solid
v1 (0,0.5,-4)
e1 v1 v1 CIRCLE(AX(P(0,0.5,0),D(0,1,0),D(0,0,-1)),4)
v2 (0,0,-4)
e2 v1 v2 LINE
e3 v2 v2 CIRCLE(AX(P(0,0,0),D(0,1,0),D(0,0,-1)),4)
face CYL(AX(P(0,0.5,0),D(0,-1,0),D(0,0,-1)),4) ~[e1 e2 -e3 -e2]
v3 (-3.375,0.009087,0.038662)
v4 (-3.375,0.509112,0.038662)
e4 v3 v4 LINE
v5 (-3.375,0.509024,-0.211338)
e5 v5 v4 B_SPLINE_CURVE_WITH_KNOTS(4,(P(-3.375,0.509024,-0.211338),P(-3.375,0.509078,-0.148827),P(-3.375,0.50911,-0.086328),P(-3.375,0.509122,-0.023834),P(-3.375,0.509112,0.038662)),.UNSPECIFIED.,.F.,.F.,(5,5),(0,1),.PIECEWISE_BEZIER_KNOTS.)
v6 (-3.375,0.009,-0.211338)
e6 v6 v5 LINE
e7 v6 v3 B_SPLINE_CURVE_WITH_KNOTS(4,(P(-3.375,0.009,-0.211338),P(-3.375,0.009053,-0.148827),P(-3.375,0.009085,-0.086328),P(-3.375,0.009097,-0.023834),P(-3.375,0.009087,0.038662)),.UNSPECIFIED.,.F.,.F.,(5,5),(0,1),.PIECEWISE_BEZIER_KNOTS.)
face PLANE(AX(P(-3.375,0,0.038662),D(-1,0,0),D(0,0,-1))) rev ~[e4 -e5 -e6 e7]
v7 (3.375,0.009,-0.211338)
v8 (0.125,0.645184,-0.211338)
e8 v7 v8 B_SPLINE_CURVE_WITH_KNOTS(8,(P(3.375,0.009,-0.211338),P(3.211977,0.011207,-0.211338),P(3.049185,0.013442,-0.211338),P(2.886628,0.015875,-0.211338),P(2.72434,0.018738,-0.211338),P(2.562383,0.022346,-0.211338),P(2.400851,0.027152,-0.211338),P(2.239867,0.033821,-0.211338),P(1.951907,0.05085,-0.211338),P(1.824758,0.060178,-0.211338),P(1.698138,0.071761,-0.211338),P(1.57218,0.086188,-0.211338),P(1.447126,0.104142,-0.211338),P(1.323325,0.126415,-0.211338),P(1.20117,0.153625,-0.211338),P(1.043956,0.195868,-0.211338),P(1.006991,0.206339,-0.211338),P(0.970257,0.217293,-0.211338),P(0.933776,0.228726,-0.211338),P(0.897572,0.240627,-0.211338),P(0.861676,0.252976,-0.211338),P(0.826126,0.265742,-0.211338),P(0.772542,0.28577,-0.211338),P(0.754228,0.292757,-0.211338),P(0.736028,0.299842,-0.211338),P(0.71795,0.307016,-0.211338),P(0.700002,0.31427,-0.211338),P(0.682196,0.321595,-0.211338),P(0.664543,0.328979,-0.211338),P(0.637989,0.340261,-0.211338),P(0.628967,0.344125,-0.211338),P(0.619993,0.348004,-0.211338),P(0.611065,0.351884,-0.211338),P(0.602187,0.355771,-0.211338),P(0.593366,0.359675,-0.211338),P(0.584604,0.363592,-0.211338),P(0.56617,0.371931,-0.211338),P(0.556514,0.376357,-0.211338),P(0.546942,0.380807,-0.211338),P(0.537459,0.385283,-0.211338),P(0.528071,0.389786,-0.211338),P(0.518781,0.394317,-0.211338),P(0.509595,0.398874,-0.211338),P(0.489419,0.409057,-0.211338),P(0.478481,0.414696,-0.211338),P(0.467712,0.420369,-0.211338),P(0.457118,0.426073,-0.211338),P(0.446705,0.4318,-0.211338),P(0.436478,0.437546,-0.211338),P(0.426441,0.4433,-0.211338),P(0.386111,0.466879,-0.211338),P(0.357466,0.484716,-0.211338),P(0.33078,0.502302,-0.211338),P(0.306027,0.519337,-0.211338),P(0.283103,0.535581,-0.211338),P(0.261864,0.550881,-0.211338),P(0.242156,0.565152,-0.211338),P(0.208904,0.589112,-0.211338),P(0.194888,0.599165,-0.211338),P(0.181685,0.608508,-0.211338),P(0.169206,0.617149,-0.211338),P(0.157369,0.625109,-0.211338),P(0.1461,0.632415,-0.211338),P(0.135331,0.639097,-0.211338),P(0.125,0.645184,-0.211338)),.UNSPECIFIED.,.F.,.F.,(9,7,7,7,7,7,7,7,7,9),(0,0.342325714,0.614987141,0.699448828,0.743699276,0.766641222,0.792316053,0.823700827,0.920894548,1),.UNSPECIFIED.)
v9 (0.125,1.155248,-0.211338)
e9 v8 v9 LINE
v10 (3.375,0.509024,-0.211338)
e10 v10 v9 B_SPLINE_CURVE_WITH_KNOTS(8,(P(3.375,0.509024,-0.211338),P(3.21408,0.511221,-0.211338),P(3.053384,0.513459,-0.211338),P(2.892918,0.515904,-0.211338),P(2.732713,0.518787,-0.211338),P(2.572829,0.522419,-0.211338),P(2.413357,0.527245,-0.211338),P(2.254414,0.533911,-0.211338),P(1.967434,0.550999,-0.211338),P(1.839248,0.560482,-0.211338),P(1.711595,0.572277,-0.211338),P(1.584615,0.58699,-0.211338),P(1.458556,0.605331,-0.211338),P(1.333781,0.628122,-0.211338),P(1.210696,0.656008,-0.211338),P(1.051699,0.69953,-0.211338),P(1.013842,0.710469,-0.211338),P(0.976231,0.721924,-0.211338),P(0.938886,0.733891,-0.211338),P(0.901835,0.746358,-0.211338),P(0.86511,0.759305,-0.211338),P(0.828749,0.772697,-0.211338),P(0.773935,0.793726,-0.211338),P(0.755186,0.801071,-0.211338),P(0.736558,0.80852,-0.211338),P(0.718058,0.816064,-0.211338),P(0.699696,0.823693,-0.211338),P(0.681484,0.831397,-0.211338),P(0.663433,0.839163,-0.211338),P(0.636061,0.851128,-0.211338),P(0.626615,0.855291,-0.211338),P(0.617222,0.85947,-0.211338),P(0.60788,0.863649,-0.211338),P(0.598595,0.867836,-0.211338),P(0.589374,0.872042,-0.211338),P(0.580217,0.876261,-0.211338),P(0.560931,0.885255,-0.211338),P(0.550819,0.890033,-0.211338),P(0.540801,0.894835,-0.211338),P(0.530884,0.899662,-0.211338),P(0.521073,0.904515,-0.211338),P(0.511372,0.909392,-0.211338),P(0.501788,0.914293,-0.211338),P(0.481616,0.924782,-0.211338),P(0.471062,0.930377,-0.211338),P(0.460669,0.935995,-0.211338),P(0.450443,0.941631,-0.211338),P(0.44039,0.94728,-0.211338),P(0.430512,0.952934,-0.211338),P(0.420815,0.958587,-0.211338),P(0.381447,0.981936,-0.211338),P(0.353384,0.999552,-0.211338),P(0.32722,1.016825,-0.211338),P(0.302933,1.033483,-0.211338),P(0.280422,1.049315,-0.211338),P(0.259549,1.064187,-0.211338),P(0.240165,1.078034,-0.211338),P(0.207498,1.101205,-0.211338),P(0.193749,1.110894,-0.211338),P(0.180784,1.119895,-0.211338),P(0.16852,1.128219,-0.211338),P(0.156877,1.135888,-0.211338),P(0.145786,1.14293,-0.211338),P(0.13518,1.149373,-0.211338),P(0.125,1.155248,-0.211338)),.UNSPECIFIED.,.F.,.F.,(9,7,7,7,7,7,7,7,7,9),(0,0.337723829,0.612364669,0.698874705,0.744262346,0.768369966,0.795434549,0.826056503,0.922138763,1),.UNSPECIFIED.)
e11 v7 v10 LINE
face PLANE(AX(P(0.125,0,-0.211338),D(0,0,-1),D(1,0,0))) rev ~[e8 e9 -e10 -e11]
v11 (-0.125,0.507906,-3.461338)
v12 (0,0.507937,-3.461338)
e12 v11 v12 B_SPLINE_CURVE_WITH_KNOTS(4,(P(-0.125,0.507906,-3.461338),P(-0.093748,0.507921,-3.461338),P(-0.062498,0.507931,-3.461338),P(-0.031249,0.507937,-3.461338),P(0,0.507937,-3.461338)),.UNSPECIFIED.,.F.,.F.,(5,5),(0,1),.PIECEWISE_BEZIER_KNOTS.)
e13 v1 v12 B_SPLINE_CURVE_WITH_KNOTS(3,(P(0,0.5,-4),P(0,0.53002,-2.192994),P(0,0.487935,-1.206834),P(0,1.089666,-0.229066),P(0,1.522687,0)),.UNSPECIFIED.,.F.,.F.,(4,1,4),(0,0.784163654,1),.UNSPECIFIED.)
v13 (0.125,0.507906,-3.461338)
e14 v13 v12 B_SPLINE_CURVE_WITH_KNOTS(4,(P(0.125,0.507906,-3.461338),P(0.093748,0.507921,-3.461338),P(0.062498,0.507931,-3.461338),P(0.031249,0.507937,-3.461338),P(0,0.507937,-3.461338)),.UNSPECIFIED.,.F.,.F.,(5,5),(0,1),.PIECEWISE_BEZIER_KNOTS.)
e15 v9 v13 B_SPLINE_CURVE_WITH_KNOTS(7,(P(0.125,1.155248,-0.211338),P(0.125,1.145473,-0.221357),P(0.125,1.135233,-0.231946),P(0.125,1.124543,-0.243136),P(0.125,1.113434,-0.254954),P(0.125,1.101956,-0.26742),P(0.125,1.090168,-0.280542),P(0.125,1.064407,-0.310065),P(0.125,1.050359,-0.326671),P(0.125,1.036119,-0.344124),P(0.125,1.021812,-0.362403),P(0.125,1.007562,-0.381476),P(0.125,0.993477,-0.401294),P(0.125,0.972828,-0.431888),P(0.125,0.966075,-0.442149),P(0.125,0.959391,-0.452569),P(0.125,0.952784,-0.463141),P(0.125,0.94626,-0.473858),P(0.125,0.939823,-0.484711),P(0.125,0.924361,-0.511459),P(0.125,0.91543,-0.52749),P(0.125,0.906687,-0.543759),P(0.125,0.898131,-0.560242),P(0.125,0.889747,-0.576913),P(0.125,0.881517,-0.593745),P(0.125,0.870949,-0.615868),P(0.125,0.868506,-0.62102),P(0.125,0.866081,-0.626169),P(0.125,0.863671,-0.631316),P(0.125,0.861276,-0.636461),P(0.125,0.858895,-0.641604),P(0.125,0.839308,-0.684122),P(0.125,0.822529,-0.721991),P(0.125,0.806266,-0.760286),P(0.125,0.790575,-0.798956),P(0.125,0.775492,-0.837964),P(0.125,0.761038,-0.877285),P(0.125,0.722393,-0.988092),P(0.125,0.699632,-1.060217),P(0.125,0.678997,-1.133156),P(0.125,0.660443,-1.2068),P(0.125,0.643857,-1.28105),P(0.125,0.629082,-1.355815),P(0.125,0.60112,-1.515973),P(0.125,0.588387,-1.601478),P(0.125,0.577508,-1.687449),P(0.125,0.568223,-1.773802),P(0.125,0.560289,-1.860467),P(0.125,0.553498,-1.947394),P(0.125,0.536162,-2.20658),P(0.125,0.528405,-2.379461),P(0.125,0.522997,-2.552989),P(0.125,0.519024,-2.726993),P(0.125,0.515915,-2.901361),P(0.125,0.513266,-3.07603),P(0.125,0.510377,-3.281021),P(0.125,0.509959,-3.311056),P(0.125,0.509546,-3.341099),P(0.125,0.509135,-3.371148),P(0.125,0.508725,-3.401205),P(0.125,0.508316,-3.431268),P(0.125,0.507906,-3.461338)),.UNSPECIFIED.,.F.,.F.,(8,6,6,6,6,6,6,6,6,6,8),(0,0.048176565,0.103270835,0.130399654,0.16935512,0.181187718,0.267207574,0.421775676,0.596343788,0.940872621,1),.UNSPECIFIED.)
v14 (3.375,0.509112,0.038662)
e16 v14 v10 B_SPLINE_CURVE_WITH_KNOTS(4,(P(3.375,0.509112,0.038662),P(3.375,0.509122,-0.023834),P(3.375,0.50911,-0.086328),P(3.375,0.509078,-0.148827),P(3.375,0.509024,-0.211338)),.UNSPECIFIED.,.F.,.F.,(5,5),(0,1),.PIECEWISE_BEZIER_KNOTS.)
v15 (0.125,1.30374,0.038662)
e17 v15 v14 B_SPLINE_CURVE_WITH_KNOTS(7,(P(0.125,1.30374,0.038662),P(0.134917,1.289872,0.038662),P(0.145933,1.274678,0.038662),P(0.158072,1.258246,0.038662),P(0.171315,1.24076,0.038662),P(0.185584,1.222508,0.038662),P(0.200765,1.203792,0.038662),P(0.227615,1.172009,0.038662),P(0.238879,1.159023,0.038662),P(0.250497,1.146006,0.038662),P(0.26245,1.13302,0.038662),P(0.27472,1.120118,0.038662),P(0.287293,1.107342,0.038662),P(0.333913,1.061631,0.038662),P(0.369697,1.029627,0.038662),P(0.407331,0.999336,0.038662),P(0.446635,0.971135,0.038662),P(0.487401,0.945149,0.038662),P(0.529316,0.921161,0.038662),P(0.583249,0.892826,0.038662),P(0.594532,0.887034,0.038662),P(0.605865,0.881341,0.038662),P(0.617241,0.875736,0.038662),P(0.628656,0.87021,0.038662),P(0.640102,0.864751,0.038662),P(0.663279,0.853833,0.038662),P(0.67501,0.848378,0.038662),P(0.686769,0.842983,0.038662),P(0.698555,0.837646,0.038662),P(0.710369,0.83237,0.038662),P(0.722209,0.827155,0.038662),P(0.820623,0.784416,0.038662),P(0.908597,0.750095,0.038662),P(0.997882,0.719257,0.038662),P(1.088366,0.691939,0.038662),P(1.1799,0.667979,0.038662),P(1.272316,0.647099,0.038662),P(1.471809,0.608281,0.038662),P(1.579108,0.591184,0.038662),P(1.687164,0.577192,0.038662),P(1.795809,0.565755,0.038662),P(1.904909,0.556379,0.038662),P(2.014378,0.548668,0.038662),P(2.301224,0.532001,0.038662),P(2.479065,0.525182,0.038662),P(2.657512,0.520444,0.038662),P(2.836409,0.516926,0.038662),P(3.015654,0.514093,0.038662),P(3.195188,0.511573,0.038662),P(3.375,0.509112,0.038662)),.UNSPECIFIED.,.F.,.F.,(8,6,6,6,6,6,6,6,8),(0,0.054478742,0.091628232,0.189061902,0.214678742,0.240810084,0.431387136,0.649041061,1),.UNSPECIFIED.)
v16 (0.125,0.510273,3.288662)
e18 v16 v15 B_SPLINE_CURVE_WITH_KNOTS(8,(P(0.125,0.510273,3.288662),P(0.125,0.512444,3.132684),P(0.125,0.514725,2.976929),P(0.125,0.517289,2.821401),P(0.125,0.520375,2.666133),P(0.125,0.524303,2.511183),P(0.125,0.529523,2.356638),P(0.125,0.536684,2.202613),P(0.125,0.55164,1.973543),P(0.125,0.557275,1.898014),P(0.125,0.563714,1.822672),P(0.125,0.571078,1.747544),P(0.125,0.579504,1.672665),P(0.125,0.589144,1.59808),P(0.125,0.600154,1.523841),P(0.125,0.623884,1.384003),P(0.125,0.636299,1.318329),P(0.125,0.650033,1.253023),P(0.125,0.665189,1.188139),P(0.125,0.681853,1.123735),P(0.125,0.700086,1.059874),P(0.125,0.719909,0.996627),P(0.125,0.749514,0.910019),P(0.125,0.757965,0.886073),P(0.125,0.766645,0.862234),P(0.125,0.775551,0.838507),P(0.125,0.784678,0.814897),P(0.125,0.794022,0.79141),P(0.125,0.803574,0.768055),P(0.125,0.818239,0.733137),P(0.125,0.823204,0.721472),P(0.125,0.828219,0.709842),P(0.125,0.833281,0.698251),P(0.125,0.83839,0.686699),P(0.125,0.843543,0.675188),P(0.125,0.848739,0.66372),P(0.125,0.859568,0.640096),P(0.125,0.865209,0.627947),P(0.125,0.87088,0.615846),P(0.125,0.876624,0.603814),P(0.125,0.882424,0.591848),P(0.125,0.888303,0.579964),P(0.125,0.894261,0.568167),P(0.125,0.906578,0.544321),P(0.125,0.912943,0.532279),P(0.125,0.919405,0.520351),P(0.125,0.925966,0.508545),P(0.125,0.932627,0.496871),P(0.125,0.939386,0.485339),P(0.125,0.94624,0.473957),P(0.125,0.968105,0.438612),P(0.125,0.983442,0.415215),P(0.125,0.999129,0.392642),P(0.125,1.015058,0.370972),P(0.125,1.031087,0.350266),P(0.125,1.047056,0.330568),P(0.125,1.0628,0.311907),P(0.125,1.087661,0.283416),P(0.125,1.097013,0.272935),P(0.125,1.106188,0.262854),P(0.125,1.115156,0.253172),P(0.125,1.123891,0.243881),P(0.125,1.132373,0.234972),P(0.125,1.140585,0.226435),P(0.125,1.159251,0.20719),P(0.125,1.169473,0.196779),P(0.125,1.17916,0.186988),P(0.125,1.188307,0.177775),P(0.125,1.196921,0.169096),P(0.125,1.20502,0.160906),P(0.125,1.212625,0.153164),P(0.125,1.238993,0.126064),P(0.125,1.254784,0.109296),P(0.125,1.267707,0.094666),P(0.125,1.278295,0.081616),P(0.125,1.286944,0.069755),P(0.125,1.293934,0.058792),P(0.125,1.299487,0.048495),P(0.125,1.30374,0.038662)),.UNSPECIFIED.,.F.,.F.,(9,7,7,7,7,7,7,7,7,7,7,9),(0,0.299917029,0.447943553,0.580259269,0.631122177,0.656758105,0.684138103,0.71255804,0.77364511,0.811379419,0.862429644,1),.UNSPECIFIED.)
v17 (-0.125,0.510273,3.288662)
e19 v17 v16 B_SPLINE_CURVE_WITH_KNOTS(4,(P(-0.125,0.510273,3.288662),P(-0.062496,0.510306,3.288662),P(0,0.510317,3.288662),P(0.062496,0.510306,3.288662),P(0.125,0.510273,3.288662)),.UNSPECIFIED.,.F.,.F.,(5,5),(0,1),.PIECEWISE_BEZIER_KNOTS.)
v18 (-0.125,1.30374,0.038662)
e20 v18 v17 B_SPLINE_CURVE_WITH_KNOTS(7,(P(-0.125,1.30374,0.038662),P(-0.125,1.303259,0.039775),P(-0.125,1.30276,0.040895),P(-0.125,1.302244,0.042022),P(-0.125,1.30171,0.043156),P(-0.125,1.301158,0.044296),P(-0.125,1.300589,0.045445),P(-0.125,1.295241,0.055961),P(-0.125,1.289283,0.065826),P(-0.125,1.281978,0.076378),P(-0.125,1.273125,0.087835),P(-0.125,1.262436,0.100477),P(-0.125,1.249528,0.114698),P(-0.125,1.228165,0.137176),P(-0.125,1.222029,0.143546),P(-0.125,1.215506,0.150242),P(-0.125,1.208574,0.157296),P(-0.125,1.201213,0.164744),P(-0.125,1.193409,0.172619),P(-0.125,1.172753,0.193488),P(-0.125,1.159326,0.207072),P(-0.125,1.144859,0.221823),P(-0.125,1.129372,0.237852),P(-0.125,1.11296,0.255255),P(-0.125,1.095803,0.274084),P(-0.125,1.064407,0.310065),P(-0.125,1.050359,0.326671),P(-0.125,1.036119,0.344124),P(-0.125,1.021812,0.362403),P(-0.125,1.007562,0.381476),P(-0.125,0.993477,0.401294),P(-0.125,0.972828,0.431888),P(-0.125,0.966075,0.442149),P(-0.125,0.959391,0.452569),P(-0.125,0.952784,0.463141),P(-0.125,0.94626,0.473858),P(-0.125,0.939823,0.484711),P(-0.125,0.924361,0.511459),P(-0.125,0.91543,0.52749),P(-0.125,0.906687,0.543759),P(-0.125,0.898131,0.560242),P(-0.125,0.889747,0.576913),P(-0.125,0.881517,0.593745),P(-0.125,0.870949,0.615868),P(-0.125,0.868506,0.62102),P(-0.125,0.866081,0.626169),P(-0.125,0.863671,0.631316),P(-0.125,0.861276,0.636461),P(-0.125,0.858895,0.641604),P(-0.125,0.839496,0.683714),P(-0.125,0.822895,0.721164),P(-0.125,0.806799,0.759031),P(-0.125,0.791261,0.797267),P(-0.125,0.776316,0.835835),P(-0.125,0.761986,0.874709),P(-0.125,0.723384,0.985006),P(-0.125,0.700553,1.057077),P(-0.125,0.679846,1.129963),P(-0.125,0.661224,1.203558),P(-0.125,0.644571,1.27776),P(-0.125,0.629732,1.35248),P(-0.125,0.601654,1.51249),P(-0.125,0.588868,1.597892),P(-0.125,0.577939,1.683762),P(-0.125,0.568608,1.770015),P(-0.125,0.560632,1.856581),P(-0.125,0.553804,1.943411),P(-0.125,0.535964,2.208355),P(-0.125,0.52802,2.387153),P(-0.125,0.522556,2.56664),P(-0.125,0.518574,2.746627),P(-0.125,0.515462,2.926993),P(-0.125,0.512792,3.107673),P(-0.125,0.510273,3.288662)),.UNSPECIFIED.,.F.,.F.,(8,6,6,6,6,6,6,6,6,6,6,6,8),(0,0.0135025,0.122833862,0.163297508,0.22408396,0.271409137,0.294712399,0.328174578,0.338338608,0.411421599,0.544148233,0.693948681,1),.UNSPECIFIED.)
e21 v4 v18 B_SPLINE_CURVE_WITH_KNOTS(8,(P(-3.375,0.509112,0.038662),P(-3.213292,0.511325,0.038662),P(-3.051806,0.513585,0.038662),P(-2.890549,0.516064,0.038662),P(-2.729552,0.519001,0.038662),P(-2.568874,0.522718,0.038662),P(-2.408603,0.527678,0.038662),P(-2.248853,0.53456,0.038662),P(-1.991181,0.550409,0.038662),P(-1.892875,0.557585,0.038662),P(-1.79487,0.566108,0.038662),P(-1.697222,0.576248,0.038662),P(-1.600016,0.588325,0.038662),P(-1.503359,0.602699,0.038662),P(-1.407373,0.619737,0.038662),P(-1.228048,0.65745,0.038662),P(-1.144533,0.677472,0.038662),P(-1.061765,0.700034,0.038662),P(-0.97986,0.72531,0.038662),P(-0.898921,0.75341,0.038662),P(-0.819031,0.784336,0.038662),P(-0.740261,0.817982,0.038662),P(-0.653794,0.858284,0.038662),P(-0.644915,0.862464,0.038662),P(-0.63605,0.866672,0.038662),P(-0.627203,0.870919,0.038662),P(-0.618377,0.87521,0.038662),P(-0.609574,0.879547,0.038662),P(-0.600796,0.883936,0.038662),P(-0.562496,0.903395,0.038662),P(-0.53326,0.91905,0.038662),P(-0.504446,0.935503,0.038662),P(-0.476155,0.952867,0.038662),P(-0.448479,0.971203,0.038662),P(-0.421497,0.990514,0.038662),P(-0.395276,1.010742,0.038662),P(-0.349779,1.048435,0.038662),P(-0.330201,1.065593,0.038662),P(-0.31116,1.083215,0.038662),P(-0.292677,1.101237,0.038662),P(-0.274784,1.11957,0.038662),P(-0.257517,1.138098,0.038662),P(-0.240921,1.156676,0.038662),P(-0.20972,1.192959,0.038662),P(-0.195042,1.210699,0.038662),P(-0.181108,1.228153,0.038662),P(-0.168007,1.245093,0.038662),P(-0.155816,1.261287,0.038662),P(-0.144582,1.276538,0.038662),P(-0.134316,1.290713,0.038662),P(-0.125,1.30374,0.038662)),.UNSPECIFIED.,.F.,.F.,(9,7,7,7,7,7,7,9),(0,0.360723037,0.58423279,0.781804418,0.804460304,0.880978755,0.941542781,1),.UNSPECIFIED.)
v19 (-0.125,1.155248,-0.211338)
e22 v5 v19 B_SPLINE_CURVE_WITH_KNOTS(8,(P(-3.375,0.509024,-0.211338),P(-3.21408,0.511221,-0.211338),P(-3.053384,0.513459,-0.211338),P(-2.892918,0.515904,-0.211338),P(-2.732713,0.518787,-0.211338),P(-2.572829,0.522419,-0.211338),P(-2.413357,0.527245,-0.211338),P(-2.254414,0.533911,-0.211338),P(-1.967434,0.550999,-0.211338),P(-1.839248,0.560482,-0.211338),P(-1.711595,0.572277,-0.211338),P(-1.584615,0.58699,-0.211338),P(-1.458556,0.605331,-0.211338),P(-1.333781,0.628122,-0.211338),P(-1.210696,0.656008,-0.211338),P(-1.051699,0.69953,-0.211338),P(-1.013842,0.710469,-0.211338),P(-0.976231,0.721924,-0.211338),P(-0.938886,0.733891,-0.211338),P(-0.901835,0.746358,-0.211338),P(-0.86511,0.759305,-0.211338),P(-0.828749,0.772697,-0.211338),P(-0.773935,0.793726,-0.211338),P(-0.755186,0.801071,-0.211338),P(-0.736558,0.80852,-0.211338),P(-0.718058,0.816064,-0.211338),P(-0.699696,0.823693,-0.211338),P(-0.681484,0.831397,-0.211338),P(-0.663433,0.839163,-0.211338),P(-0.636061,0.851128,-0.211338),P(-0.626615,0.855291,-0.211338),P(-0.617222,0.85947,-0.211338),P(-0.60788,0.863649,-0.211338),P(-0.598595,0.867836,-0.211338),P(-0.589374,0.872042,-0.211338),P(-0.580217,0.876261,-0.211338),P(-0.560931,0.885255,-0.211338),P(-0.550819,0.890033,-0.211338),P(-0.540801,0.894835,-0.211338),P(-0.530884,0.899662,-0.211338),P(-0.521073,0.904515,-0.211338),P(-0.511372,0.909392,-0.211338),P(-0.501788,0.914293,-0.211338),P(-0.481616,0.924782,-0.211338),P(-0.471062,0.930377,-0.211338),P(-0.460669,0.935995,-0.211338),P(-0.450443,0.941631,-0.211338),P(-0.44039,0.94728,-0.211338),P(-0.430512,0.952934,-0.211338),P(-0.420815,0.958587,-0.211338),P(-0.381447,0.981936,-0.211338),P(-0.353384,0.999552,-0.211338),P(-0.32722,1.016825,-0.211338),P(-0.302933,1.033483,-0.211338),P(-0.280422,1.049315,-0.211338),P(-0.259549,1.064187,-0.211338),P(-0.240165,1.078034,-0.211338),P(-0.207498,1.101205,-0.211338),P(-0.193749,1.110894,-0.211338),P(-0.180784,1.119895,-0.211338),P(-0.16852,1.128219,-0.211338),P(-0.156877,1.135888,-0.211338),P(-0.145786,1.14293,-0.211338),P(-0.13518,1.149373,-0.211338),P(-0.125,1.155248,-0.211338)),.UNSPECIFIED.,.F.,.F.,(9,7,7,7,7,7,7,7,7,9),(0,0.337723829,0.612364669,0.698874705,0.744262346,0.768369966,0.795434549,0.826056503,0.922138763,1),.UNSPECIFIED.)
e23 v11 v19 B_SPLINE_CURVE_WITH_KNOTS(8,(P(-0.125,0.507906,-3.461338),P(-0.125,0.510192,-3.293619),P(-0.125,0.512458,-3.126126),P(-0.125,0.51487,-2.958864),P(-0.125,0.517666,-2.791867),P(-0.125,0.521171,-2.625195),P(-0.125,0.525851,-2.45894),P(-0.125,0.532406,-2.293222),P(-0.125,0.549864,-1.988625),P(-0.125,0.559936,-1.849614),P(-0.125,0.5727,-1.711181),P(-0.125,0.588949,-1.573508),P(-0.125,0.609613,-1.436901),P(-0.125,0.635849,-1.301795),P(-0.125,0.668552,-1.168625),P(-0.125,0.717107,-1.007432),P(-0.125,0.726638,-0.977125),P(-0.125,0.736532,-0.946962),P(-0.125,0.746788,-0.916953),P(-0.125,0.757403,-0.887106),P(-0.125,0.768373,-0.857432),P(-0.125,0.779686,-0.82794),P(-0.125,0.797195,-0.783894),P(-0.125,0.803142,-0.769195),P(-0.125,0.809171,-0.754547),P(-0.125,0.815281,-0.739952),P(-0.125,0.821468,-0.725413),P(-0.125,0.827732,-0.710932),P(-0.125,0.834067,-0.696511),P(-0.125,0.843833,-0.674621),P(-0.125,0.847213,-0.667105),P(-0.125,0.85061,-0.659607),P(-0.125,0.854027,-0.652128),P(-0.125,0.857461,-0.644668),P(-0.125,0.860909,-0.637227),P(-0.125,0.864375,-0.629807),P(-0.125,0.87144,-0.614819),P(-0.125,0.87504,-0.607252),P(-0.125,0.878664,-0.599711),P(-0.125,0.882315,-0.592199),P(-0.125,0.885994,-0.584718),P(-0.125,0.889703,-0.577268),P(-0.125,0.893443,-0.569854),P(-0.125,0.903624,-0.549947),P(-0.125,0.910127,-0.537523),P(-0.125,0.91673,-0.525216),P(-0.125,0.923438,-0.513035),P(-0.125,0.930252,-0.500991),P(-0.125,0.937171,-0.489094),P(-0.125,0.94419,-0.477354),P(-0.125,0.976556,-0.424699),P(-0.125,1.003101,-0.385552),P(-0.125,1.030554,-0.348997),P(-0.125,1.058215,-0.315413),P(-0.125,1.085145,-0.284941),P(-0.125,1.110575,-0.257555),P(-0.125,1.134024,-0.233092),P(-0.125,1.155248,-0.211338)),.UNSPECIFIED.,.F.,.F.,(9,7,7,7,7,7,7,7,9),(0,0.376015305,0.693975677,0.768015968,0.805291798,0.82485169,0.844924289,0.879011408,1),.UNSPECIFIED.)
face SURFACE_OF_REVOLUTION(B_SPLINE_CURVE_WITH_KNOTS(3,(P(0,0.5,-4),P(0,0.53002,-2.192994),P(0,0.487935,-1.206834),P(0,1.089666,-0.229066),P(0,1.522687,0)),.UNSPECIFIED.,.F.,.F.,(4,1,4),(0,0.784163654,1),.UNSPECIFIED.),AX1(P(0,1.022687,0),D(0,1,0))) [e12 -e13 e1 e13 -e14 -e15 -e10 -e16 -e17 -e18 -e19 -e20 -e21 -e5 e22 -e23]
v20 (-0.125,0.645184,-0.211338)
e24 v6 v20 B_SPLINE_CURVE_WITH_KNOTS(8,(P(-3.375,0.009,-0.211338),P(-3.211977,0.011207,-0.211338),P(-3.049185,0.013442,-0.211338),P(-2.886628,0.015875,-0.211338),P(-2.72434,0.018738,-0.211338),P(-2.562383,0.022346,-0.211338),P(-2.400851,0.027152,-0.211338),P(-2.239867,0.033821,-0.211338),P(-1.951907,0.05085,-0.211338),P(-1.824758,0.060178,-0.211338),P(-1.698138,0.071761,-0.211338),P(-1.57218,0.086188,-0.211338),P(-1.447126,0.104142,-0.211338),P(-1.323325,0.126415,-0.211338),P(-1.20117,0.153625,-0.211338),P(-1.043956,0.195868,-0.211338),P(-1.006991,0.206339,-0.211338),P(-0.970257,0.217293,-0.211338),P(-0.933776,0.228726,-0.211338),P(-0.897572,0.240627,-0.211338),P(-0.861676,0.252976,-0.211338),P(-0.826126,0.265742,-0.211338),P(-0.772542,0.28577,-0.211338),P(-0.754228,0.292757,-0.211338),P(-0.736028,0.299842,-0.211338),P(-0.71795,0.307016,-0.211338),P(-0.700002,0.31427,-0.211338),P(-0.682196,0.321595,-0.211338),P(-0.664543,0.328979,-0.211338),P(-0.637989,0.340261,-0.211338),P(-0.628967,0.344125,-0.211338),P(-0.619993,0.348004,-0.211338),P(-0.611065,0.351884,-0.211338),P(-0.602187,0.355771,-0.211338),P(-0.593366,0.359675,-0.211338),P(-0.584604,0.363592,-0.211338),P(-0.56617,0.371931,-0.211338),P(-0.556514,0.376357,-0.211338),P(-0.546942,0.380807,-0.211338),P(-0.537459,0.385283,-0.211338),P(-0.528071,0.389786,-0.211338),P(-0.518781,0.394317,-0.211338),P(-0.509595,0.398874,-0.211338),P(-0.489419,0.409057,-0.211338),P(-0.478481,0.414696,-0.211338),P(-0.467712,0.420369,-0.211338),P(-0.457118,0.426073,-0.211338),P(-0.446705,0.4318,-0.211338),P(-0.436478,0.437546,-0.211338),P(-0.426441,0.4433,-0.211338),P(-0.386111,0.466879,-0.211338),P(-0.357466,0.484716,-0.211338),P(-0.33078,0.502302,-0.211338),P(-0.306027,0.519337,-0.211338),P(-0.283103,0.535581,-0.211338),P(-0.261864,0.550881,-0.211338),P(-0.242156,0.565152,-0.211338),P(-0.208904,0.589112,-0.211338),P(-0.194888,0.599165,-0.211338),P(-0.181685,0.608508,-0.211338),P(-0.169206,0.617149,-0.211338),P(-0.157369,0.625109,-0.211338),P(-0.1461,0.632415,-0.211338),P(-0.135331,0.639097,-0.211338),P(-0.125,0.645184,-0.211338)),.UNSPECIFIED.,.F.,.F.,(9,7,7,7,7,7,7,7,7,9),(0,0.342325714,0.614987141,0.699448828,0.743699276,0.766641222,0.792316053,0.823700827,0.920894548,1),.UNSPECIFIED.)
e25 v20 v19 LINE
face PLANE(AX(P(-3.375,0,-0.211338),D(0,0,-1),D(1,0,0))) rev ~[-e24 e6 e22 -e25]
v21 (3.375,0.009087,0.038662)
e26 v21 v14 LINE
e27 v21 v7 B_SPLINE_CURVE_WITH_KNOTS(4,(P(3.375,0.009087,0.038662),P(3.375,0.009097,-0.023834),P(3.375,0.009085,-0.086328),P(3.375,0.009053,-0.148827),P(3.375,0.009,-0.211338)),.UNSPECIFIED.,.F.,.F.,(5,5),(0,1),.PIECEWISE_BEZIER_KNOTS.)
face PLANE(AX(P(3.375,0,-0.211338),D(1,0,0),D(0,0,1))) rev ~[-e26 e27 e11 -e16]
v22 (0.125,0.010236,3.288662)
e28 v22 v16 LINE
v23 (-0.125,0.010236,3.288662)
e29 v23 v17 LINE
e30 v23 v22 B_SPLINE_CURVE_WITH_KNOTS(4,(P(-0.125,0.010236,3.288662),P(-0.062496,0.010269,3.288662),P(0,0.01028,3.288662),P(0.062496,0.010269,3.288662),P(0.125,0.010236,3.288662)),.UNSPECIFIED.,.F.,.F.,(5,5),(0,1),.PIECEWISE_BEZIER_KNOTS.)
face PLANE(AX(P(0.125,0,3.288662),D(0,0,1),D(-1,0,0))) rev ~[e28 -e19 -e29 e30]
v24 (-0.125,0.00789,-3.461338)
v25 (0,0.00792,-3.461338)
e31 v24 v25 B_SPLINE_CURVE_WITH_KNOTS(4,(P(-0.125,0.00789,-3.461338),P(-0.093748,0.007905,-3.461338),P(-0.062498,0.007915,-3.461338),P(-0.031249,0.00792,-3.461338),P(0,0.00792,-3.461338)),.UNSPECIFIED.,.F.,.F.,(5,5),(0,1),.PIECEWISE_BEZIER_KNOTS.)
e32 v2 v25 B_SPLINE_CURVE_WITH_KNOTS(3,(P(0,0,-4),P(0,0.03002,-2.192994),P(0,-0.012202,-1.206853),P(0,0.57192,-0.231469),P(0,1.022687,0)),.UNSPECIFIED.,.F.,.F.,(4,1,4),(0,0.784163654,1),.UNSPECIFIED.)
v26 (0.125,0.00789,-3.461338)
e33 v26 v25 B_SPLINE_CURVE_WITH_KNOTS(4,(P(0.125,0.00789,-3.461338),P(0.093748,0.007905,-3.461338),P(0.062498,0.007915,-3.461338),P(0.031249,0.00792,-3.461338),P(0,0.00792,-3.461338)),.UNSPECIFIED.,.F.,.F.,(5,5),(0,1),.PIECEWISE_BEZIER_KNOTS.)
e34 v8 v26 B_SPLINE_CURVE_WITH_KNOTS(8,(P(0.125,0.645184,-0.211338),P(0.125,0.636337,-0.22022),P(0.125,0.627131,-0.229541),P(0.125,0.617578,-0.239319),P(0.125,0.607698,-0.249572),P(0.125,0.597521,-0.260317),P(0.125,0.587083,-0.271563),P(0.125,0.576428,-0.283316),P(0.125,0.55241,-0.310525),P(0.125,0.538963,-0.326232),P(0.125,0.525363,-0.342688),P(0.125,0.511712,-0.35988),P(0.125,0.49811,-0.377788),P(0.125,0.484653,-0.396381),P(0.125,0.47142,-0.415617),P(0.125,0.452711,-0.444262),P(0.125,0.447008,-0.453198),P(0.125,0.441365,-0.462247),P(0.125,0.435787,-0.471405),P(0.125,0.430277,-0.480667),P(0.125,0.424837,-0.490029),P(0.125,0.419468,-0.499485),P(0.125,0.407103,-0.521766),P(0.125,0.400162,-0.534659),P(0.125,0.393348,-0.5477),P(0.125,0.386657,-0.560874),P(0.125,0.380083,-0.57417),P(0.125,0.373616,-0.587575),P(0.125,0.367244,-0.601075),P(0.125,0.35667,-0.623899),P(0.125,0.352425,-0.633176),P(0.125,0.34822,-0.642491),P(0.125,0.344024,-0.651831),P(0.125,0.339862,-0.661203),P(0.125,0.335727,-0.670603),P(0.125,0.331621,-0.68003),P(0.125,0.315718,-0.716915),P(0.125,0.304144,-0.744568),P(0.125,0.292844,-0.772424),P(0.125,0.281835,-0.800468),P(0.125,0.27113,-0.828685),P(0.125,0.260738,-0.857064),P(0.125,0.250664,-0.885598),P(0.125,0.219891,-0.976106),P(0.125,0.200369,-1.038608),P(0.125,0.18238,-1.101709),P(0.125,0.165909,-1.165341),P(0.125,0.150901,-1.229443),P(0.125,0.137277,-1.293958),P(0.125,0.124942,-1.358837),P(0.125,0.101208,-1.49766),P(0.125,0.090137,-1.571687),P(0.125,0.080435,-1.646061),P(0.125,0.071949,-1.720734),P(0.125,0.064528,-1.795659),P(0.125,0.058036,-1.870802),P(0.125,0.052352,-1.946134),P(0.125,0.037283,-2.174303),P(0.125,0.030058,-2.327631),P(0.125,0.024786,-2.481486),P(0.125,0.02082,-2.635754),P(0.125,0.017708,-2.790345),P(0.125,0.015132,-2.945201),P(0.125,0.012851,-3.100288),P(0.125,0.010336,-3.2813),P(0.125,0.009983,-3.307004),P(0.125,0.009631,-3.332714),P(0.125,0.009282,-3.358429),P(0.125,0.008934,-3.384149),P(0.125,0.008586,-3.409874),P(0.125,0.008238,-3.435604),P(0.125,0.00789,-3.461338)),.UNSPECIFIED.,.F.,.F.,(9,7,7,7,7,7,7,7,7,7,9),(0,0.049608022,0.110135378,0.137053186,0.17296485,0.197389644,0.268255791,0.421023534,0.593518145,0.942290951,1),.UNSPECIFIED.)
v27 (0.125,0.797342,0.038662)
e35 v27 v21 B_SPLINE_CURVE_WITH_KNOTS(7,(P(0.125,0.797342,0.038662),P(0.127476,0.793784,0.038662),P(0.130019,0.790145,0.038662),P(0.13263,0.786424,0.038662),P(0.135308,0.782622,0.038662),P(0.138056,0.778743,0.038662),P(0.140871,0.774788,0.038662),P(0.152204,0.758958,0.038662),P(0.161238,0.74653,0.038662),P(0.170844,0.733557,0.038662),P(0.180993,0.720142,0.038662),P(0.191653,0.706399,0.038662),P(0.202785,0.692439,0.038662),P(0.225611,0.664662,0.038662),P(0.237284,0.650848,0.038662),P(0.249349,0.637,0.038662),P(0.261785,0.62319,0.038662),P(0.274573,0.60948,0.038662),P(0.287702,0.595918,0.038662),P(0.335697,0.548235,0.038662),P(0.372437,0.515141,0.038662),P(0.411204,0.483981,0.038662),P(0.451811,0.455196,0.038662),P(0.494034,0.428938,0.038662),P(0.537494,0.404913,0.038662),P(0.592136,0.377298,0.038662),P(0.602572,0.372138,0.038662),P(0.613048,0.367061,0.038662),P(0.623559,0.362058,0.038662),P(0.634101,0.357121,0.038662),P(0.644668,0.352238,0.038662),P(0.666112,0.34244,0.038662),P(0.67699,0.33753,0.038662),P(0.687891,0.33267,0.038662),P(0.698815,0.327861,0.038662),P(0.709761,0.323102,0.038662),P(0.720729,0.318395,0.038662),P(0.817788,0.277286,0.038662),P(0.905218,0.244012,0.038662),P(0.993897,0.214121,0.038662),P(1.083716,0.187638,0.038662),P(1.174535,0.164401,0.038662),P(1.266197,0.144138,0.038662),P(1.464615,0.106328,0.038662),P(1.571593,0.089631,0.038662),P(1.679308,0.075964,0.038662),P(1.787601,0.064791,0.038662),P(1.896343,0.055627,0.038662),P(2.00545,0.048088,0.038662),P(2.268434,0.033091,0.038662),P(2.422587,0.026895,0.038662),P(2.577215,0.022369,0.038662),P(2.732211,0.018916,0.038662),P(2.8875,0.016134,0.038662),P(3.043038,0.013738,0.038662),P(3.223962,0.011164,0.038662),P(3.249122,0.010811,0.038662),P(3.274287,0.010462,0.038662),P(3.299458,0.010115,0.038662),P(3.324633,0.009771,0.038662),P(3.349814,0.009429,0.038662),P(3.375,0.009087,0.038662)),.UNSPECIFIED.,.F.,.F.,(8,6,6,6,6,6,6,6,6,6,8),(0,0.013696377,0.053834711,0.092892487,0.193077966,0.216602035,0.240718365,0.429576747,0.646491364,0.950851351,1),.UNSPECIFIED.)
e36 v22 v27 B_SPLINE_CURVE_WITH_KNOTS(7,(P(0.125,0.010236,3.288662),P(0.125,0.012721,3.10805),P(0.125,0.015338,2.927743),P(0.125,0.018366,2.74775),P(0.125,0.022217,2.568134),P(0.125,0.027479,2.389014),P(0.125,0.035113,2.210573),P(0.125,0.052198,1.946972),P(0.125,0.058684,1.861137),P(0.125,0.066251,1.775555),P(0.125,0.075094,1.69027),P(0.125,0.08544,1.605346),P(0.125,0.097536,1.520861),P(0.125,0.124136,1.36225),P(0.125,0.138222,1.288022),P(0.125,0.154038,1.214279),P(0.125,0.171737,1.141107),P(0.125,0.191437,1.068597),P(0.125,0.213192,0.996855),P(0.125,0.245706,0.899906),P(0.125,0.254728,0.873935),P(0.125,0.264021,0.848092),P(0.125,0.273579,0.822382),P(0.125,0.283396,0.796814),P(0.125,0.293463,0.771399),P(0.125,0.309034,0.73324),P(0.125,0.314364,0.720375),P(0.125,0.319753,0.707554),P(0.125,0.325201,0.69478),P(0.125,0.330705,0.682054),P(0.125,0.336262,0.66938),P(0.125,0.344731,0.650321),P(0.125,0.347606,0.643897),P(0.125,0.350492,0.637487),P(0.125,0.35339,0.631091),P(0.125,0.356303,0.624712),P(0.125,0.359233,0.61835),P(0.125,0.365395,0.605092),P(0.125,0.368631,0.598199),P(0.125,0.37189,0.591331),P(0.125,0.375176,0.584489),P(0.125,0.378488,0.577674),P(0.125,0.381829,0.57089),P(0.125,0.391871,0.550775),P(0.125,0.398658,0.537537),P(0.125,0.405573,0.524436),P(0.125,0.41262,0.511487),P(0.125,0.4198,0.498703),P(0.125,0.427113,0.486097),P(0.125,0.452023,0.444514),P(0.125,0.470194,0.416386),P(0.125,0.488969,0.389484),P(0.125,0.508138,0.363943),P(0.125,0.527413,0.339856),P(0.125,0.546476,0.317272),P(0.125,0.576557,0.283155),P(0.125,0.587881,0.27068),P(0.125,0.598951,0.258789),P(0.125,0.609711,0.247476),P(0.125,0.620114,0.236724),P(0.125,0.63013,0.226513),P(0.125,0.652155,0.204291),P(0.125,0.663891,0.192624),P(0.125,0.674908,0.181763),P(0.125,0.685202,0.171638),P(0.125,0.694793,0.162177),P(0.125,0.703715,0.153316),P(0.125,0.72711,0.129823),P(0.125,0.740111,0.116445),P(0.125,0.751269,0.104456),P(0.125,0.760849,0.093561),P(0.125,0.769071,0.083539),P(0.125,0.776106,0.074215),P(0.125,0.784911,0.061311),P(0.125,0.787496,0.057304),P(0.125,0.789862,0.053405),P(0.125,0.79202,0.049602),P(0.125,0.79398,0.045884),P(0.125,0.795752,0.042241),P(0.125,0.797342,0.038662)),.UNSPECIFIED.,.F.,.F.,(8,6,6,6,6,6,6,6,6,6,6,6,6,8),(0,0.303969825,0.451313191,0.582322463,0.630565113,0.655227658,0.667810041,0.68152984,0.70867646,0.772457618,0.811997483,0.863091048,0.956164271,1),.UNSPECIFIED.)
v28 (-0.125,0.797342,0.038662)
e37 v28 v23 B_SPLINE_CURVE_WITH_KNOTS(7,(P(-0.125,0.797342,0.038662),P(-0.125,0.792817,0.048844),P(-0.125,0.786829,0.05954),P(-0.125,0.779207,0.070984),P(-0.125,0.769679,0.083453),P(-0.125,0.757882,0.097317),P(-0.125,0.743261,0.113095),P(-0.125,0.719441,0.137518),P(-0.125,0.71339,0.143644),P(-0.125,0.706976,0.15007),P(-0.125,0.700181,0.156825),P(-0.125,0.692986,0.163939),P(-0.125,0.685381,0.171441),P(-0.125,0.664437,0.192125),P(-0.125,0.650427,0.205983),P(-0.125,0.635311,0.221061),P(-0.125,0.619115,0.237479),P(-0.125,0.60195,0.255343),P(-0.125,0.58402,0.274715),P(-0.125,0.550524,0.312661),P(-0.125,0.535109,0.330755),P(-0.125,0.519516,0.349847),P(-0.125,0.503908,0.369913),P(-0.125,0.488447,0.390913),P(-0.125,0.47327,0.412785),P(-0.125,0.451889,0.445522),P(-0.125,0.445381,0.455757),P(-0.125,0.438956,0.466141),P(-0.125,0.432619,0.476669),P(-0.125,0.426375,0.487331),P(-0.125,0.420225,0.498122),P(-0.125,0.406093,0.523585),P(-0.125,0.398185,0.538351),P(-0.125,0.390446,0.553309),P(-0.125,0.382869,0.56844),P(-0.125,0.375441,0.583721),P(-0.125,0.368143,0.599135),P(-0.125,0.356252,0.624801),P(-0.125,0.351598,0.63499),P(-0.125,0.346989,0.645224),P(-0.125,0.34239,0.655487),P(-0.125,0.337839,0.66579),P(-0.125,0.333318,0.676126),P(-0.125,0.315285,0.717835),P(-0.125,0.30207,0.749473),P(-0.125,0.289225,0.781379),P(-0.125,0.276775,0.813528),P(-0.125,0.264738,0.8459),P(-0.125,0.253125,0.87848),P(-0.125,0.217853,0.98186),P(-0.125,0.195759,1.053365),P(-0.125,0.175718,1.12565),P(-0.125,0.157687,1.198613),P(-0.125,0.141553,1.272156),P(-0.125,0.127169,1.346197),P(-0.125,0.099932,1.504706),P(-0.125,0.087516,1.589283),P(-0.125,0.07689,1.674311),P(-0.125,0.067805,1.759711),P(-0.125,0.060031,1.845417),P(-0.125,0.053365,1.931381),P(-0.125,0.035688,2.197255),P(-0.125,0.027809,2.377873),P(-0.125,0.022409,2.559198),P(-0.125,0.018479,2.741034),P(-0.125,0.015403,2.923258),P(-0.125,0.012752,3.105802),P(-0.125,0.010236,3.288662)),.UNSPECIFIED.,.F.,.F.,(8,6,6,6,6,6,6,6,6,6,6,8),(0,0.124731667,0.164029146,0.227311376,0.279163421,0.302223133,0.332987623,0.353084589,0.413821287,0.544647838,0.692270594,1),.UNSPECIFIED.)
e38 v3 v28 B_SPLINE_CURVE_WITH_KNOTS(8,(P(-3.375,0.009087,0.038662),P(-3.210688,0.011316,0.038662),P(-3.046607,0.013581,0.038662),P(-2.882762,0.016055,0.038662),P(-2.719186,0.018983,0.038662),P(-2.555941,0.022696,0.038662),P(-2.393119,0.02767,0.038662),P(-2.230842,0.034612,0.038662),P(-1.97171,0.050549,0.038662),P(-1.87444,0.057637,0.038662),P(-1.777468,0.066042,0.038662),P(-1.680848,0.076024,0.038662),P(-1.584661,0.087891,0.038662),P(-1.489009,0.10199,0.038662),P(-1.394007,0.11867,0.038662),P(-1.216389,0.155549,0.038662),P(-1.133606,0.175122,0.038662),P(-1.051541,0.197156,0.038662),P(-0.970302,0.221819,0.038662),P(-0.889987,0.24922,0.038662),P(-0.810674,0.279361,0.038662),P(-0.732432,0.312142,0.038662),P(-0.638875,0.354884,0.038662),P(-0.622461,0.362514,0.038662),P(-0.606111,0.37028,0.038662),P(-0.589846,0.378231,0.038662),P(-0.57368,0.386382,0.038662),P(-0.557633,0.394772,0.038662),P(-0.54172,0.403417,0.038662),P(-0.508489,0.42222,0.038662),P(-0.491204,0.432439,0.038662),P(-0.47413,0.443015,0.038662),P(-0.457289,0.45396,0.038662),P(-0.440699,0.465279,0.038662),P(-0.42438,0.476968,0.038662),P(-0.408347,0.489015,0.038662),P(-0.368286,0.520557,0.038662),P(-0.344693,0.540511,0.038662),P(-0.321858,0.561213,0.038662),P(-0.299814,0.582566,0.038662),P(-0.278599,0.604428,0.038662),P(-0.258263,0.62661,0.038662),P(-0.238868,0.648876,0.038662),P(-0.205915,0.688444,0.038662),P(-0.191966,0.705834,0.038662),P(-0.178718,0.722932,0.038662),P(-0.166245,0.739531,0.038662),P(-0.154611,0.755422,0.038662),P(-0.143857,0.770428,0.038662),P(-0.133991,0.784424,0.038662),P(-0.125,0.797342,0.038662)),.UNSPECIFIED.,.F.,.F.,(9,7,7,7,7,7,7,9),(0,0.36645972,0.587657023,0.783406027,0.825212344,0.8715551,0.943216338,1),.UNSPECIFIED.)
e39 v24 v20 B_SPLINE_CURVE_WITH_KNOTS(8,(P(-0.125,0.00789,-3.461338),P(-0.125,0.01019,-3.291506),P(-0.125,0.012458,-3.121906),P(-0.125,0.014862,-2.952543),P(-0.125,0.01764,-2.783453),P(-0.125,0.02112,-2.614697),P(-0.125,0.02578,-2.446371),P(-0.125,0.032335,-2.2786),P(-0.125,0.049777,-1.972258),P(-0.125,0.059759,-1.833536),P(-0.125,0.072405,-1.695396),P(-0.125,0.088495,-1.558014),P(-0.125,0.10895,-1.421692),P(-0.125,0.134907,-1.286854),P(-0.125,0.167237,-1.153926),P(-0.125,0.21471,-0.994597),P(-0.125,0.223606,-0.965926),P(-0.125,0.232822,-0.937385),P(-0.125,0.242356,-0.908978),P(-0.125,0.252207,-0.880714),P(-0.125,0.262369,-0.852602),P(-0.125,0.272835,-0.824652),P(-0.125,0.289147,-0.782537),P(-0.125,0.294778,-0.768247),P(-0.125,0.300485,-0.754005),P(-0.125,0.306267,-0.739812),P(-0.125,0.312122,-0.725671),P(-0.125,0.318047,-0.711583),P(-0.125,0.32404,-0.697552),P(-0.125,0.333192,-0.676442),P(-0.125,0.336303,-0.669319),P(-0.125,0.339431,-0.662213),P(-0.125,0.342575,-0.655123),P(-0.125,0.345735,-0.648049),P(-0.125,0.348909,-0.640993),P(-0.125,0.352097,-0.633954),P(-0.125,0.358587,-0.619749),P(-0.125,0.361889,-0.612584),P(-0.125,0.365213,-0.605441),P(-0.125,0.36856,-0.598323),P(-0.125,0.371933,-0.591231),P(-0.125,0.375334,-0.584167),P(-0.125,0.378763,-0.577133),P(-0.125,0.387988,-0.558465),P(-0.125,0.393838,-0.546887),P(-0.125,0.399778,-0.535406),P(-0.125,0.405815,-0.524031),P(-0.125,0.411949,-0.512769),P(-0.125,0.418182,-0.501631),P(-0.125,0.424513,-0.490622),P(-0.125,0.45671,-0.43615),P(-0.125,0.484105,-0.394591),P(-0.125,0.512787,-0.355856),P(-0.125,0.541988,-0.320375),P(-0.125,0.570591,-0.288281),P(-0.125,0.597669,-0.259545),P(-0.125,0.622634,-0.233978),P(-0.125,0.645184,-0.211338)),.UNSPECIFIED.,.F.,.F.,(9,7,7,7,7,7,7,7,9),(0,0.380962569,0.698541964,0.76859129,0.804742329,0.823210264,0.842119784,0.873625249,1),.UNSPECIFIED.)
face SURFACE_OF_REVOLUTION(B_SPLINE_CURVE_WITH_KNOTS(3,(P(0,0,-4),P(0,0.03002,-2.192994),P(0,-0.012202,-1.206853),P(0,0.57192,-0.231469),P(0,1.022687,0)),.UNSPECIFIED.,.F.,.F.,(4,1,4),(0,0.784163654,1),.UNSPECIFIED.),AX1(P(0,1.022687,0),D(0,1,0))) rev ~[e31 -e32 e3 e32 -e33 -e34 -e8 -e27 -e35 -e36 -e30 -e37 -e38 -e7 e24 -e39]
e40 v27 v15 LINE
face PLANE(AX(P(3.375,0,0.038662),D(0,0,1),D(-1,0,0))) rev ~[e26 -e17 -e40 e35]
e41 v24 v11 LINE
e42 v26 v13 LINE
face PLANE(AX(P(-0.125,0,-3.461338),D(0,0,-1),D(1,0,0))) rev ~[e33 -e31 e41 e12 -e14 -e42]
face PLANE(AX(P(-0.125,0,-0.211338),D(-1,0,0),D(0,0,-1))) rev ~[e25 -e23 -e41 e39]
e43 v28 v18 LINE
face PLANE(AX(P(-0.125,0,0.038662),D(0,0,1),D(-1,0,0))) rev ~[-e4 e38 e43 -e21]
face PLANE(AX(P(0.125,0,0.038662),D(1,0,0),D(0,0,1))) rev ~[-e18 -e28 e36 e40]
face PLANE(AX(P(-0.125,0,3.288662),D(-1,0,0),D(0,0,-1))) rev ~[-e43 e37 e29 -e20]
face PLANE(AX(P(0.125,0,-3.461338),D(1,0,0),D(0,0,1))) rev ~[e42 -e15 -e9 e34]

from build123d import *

# Parameters (mm, degrees)
CUT_EXTRUDE1_DEPTH = 2


with BuildPart() as part:
    # Sketch2 → Revolve1 (revolve)
    with BuildSketch(Plane.XY, mode=Mode.PRIVATE) as revolve1_sk:
        with BuildLine():
            Line((0, 1.022687254), (0, 1.522687254))
            add(Edge.make_bspline(
                [(4, 0.5), (2.192993628, 0.530019701), (1.206834054, 0.487935123), (0.229066118, 1.089665754), (0, 1.522687254)],
                knots=[0, 0, 0, 0, 0.784163654, 1, 1, 1, 1], degree=3))
            Line((4, 0.5), (4, 0))
            add(Edge.make_bspline(
                [(4, 0), (2.192993628, 0.030019701), (1.206852605, -0.012201872), (0.23146911, 0.571920481), (0, 1.022687254)],
                knots=[0, 0, 0, 0, 0.784163654, 1, 1, 1, 1], degree=3))
        make_face()
    revolve(revolve1_sk.sketch.rotate(Axis((0, 1.022687254, 0), (0, 1, 0)), 90), axis=Axis((0, 1.022687254, 0), (0, 1, 0)))

    # Sketch3 → Cut-Extrude1 (cut)
    with BuildSketch(Plane(origin=(0, 0, 0), x_dir=(1, 0, 0), z_dir=(0, 1, 0))):
        Polygon((-0.125, 0.211338411), (-0.125, 3.461338411), (0.125, 3.461338411), (0.125, 0.211338411), (3.375, 0.211338411), (3.375, -0.038661589), (0.125, -0.038661589), (0.125, -3.288661589), (-0.125, -3.288661589), (-0.125, -0.038661589), (-3.375, -0.038661589), (-3.375, 0.211338411), align=None)
    extrude(amount=CUT_EXTRUDE1_DEPTH, mode=Mode.SUBTRACT)


solid = part.part
